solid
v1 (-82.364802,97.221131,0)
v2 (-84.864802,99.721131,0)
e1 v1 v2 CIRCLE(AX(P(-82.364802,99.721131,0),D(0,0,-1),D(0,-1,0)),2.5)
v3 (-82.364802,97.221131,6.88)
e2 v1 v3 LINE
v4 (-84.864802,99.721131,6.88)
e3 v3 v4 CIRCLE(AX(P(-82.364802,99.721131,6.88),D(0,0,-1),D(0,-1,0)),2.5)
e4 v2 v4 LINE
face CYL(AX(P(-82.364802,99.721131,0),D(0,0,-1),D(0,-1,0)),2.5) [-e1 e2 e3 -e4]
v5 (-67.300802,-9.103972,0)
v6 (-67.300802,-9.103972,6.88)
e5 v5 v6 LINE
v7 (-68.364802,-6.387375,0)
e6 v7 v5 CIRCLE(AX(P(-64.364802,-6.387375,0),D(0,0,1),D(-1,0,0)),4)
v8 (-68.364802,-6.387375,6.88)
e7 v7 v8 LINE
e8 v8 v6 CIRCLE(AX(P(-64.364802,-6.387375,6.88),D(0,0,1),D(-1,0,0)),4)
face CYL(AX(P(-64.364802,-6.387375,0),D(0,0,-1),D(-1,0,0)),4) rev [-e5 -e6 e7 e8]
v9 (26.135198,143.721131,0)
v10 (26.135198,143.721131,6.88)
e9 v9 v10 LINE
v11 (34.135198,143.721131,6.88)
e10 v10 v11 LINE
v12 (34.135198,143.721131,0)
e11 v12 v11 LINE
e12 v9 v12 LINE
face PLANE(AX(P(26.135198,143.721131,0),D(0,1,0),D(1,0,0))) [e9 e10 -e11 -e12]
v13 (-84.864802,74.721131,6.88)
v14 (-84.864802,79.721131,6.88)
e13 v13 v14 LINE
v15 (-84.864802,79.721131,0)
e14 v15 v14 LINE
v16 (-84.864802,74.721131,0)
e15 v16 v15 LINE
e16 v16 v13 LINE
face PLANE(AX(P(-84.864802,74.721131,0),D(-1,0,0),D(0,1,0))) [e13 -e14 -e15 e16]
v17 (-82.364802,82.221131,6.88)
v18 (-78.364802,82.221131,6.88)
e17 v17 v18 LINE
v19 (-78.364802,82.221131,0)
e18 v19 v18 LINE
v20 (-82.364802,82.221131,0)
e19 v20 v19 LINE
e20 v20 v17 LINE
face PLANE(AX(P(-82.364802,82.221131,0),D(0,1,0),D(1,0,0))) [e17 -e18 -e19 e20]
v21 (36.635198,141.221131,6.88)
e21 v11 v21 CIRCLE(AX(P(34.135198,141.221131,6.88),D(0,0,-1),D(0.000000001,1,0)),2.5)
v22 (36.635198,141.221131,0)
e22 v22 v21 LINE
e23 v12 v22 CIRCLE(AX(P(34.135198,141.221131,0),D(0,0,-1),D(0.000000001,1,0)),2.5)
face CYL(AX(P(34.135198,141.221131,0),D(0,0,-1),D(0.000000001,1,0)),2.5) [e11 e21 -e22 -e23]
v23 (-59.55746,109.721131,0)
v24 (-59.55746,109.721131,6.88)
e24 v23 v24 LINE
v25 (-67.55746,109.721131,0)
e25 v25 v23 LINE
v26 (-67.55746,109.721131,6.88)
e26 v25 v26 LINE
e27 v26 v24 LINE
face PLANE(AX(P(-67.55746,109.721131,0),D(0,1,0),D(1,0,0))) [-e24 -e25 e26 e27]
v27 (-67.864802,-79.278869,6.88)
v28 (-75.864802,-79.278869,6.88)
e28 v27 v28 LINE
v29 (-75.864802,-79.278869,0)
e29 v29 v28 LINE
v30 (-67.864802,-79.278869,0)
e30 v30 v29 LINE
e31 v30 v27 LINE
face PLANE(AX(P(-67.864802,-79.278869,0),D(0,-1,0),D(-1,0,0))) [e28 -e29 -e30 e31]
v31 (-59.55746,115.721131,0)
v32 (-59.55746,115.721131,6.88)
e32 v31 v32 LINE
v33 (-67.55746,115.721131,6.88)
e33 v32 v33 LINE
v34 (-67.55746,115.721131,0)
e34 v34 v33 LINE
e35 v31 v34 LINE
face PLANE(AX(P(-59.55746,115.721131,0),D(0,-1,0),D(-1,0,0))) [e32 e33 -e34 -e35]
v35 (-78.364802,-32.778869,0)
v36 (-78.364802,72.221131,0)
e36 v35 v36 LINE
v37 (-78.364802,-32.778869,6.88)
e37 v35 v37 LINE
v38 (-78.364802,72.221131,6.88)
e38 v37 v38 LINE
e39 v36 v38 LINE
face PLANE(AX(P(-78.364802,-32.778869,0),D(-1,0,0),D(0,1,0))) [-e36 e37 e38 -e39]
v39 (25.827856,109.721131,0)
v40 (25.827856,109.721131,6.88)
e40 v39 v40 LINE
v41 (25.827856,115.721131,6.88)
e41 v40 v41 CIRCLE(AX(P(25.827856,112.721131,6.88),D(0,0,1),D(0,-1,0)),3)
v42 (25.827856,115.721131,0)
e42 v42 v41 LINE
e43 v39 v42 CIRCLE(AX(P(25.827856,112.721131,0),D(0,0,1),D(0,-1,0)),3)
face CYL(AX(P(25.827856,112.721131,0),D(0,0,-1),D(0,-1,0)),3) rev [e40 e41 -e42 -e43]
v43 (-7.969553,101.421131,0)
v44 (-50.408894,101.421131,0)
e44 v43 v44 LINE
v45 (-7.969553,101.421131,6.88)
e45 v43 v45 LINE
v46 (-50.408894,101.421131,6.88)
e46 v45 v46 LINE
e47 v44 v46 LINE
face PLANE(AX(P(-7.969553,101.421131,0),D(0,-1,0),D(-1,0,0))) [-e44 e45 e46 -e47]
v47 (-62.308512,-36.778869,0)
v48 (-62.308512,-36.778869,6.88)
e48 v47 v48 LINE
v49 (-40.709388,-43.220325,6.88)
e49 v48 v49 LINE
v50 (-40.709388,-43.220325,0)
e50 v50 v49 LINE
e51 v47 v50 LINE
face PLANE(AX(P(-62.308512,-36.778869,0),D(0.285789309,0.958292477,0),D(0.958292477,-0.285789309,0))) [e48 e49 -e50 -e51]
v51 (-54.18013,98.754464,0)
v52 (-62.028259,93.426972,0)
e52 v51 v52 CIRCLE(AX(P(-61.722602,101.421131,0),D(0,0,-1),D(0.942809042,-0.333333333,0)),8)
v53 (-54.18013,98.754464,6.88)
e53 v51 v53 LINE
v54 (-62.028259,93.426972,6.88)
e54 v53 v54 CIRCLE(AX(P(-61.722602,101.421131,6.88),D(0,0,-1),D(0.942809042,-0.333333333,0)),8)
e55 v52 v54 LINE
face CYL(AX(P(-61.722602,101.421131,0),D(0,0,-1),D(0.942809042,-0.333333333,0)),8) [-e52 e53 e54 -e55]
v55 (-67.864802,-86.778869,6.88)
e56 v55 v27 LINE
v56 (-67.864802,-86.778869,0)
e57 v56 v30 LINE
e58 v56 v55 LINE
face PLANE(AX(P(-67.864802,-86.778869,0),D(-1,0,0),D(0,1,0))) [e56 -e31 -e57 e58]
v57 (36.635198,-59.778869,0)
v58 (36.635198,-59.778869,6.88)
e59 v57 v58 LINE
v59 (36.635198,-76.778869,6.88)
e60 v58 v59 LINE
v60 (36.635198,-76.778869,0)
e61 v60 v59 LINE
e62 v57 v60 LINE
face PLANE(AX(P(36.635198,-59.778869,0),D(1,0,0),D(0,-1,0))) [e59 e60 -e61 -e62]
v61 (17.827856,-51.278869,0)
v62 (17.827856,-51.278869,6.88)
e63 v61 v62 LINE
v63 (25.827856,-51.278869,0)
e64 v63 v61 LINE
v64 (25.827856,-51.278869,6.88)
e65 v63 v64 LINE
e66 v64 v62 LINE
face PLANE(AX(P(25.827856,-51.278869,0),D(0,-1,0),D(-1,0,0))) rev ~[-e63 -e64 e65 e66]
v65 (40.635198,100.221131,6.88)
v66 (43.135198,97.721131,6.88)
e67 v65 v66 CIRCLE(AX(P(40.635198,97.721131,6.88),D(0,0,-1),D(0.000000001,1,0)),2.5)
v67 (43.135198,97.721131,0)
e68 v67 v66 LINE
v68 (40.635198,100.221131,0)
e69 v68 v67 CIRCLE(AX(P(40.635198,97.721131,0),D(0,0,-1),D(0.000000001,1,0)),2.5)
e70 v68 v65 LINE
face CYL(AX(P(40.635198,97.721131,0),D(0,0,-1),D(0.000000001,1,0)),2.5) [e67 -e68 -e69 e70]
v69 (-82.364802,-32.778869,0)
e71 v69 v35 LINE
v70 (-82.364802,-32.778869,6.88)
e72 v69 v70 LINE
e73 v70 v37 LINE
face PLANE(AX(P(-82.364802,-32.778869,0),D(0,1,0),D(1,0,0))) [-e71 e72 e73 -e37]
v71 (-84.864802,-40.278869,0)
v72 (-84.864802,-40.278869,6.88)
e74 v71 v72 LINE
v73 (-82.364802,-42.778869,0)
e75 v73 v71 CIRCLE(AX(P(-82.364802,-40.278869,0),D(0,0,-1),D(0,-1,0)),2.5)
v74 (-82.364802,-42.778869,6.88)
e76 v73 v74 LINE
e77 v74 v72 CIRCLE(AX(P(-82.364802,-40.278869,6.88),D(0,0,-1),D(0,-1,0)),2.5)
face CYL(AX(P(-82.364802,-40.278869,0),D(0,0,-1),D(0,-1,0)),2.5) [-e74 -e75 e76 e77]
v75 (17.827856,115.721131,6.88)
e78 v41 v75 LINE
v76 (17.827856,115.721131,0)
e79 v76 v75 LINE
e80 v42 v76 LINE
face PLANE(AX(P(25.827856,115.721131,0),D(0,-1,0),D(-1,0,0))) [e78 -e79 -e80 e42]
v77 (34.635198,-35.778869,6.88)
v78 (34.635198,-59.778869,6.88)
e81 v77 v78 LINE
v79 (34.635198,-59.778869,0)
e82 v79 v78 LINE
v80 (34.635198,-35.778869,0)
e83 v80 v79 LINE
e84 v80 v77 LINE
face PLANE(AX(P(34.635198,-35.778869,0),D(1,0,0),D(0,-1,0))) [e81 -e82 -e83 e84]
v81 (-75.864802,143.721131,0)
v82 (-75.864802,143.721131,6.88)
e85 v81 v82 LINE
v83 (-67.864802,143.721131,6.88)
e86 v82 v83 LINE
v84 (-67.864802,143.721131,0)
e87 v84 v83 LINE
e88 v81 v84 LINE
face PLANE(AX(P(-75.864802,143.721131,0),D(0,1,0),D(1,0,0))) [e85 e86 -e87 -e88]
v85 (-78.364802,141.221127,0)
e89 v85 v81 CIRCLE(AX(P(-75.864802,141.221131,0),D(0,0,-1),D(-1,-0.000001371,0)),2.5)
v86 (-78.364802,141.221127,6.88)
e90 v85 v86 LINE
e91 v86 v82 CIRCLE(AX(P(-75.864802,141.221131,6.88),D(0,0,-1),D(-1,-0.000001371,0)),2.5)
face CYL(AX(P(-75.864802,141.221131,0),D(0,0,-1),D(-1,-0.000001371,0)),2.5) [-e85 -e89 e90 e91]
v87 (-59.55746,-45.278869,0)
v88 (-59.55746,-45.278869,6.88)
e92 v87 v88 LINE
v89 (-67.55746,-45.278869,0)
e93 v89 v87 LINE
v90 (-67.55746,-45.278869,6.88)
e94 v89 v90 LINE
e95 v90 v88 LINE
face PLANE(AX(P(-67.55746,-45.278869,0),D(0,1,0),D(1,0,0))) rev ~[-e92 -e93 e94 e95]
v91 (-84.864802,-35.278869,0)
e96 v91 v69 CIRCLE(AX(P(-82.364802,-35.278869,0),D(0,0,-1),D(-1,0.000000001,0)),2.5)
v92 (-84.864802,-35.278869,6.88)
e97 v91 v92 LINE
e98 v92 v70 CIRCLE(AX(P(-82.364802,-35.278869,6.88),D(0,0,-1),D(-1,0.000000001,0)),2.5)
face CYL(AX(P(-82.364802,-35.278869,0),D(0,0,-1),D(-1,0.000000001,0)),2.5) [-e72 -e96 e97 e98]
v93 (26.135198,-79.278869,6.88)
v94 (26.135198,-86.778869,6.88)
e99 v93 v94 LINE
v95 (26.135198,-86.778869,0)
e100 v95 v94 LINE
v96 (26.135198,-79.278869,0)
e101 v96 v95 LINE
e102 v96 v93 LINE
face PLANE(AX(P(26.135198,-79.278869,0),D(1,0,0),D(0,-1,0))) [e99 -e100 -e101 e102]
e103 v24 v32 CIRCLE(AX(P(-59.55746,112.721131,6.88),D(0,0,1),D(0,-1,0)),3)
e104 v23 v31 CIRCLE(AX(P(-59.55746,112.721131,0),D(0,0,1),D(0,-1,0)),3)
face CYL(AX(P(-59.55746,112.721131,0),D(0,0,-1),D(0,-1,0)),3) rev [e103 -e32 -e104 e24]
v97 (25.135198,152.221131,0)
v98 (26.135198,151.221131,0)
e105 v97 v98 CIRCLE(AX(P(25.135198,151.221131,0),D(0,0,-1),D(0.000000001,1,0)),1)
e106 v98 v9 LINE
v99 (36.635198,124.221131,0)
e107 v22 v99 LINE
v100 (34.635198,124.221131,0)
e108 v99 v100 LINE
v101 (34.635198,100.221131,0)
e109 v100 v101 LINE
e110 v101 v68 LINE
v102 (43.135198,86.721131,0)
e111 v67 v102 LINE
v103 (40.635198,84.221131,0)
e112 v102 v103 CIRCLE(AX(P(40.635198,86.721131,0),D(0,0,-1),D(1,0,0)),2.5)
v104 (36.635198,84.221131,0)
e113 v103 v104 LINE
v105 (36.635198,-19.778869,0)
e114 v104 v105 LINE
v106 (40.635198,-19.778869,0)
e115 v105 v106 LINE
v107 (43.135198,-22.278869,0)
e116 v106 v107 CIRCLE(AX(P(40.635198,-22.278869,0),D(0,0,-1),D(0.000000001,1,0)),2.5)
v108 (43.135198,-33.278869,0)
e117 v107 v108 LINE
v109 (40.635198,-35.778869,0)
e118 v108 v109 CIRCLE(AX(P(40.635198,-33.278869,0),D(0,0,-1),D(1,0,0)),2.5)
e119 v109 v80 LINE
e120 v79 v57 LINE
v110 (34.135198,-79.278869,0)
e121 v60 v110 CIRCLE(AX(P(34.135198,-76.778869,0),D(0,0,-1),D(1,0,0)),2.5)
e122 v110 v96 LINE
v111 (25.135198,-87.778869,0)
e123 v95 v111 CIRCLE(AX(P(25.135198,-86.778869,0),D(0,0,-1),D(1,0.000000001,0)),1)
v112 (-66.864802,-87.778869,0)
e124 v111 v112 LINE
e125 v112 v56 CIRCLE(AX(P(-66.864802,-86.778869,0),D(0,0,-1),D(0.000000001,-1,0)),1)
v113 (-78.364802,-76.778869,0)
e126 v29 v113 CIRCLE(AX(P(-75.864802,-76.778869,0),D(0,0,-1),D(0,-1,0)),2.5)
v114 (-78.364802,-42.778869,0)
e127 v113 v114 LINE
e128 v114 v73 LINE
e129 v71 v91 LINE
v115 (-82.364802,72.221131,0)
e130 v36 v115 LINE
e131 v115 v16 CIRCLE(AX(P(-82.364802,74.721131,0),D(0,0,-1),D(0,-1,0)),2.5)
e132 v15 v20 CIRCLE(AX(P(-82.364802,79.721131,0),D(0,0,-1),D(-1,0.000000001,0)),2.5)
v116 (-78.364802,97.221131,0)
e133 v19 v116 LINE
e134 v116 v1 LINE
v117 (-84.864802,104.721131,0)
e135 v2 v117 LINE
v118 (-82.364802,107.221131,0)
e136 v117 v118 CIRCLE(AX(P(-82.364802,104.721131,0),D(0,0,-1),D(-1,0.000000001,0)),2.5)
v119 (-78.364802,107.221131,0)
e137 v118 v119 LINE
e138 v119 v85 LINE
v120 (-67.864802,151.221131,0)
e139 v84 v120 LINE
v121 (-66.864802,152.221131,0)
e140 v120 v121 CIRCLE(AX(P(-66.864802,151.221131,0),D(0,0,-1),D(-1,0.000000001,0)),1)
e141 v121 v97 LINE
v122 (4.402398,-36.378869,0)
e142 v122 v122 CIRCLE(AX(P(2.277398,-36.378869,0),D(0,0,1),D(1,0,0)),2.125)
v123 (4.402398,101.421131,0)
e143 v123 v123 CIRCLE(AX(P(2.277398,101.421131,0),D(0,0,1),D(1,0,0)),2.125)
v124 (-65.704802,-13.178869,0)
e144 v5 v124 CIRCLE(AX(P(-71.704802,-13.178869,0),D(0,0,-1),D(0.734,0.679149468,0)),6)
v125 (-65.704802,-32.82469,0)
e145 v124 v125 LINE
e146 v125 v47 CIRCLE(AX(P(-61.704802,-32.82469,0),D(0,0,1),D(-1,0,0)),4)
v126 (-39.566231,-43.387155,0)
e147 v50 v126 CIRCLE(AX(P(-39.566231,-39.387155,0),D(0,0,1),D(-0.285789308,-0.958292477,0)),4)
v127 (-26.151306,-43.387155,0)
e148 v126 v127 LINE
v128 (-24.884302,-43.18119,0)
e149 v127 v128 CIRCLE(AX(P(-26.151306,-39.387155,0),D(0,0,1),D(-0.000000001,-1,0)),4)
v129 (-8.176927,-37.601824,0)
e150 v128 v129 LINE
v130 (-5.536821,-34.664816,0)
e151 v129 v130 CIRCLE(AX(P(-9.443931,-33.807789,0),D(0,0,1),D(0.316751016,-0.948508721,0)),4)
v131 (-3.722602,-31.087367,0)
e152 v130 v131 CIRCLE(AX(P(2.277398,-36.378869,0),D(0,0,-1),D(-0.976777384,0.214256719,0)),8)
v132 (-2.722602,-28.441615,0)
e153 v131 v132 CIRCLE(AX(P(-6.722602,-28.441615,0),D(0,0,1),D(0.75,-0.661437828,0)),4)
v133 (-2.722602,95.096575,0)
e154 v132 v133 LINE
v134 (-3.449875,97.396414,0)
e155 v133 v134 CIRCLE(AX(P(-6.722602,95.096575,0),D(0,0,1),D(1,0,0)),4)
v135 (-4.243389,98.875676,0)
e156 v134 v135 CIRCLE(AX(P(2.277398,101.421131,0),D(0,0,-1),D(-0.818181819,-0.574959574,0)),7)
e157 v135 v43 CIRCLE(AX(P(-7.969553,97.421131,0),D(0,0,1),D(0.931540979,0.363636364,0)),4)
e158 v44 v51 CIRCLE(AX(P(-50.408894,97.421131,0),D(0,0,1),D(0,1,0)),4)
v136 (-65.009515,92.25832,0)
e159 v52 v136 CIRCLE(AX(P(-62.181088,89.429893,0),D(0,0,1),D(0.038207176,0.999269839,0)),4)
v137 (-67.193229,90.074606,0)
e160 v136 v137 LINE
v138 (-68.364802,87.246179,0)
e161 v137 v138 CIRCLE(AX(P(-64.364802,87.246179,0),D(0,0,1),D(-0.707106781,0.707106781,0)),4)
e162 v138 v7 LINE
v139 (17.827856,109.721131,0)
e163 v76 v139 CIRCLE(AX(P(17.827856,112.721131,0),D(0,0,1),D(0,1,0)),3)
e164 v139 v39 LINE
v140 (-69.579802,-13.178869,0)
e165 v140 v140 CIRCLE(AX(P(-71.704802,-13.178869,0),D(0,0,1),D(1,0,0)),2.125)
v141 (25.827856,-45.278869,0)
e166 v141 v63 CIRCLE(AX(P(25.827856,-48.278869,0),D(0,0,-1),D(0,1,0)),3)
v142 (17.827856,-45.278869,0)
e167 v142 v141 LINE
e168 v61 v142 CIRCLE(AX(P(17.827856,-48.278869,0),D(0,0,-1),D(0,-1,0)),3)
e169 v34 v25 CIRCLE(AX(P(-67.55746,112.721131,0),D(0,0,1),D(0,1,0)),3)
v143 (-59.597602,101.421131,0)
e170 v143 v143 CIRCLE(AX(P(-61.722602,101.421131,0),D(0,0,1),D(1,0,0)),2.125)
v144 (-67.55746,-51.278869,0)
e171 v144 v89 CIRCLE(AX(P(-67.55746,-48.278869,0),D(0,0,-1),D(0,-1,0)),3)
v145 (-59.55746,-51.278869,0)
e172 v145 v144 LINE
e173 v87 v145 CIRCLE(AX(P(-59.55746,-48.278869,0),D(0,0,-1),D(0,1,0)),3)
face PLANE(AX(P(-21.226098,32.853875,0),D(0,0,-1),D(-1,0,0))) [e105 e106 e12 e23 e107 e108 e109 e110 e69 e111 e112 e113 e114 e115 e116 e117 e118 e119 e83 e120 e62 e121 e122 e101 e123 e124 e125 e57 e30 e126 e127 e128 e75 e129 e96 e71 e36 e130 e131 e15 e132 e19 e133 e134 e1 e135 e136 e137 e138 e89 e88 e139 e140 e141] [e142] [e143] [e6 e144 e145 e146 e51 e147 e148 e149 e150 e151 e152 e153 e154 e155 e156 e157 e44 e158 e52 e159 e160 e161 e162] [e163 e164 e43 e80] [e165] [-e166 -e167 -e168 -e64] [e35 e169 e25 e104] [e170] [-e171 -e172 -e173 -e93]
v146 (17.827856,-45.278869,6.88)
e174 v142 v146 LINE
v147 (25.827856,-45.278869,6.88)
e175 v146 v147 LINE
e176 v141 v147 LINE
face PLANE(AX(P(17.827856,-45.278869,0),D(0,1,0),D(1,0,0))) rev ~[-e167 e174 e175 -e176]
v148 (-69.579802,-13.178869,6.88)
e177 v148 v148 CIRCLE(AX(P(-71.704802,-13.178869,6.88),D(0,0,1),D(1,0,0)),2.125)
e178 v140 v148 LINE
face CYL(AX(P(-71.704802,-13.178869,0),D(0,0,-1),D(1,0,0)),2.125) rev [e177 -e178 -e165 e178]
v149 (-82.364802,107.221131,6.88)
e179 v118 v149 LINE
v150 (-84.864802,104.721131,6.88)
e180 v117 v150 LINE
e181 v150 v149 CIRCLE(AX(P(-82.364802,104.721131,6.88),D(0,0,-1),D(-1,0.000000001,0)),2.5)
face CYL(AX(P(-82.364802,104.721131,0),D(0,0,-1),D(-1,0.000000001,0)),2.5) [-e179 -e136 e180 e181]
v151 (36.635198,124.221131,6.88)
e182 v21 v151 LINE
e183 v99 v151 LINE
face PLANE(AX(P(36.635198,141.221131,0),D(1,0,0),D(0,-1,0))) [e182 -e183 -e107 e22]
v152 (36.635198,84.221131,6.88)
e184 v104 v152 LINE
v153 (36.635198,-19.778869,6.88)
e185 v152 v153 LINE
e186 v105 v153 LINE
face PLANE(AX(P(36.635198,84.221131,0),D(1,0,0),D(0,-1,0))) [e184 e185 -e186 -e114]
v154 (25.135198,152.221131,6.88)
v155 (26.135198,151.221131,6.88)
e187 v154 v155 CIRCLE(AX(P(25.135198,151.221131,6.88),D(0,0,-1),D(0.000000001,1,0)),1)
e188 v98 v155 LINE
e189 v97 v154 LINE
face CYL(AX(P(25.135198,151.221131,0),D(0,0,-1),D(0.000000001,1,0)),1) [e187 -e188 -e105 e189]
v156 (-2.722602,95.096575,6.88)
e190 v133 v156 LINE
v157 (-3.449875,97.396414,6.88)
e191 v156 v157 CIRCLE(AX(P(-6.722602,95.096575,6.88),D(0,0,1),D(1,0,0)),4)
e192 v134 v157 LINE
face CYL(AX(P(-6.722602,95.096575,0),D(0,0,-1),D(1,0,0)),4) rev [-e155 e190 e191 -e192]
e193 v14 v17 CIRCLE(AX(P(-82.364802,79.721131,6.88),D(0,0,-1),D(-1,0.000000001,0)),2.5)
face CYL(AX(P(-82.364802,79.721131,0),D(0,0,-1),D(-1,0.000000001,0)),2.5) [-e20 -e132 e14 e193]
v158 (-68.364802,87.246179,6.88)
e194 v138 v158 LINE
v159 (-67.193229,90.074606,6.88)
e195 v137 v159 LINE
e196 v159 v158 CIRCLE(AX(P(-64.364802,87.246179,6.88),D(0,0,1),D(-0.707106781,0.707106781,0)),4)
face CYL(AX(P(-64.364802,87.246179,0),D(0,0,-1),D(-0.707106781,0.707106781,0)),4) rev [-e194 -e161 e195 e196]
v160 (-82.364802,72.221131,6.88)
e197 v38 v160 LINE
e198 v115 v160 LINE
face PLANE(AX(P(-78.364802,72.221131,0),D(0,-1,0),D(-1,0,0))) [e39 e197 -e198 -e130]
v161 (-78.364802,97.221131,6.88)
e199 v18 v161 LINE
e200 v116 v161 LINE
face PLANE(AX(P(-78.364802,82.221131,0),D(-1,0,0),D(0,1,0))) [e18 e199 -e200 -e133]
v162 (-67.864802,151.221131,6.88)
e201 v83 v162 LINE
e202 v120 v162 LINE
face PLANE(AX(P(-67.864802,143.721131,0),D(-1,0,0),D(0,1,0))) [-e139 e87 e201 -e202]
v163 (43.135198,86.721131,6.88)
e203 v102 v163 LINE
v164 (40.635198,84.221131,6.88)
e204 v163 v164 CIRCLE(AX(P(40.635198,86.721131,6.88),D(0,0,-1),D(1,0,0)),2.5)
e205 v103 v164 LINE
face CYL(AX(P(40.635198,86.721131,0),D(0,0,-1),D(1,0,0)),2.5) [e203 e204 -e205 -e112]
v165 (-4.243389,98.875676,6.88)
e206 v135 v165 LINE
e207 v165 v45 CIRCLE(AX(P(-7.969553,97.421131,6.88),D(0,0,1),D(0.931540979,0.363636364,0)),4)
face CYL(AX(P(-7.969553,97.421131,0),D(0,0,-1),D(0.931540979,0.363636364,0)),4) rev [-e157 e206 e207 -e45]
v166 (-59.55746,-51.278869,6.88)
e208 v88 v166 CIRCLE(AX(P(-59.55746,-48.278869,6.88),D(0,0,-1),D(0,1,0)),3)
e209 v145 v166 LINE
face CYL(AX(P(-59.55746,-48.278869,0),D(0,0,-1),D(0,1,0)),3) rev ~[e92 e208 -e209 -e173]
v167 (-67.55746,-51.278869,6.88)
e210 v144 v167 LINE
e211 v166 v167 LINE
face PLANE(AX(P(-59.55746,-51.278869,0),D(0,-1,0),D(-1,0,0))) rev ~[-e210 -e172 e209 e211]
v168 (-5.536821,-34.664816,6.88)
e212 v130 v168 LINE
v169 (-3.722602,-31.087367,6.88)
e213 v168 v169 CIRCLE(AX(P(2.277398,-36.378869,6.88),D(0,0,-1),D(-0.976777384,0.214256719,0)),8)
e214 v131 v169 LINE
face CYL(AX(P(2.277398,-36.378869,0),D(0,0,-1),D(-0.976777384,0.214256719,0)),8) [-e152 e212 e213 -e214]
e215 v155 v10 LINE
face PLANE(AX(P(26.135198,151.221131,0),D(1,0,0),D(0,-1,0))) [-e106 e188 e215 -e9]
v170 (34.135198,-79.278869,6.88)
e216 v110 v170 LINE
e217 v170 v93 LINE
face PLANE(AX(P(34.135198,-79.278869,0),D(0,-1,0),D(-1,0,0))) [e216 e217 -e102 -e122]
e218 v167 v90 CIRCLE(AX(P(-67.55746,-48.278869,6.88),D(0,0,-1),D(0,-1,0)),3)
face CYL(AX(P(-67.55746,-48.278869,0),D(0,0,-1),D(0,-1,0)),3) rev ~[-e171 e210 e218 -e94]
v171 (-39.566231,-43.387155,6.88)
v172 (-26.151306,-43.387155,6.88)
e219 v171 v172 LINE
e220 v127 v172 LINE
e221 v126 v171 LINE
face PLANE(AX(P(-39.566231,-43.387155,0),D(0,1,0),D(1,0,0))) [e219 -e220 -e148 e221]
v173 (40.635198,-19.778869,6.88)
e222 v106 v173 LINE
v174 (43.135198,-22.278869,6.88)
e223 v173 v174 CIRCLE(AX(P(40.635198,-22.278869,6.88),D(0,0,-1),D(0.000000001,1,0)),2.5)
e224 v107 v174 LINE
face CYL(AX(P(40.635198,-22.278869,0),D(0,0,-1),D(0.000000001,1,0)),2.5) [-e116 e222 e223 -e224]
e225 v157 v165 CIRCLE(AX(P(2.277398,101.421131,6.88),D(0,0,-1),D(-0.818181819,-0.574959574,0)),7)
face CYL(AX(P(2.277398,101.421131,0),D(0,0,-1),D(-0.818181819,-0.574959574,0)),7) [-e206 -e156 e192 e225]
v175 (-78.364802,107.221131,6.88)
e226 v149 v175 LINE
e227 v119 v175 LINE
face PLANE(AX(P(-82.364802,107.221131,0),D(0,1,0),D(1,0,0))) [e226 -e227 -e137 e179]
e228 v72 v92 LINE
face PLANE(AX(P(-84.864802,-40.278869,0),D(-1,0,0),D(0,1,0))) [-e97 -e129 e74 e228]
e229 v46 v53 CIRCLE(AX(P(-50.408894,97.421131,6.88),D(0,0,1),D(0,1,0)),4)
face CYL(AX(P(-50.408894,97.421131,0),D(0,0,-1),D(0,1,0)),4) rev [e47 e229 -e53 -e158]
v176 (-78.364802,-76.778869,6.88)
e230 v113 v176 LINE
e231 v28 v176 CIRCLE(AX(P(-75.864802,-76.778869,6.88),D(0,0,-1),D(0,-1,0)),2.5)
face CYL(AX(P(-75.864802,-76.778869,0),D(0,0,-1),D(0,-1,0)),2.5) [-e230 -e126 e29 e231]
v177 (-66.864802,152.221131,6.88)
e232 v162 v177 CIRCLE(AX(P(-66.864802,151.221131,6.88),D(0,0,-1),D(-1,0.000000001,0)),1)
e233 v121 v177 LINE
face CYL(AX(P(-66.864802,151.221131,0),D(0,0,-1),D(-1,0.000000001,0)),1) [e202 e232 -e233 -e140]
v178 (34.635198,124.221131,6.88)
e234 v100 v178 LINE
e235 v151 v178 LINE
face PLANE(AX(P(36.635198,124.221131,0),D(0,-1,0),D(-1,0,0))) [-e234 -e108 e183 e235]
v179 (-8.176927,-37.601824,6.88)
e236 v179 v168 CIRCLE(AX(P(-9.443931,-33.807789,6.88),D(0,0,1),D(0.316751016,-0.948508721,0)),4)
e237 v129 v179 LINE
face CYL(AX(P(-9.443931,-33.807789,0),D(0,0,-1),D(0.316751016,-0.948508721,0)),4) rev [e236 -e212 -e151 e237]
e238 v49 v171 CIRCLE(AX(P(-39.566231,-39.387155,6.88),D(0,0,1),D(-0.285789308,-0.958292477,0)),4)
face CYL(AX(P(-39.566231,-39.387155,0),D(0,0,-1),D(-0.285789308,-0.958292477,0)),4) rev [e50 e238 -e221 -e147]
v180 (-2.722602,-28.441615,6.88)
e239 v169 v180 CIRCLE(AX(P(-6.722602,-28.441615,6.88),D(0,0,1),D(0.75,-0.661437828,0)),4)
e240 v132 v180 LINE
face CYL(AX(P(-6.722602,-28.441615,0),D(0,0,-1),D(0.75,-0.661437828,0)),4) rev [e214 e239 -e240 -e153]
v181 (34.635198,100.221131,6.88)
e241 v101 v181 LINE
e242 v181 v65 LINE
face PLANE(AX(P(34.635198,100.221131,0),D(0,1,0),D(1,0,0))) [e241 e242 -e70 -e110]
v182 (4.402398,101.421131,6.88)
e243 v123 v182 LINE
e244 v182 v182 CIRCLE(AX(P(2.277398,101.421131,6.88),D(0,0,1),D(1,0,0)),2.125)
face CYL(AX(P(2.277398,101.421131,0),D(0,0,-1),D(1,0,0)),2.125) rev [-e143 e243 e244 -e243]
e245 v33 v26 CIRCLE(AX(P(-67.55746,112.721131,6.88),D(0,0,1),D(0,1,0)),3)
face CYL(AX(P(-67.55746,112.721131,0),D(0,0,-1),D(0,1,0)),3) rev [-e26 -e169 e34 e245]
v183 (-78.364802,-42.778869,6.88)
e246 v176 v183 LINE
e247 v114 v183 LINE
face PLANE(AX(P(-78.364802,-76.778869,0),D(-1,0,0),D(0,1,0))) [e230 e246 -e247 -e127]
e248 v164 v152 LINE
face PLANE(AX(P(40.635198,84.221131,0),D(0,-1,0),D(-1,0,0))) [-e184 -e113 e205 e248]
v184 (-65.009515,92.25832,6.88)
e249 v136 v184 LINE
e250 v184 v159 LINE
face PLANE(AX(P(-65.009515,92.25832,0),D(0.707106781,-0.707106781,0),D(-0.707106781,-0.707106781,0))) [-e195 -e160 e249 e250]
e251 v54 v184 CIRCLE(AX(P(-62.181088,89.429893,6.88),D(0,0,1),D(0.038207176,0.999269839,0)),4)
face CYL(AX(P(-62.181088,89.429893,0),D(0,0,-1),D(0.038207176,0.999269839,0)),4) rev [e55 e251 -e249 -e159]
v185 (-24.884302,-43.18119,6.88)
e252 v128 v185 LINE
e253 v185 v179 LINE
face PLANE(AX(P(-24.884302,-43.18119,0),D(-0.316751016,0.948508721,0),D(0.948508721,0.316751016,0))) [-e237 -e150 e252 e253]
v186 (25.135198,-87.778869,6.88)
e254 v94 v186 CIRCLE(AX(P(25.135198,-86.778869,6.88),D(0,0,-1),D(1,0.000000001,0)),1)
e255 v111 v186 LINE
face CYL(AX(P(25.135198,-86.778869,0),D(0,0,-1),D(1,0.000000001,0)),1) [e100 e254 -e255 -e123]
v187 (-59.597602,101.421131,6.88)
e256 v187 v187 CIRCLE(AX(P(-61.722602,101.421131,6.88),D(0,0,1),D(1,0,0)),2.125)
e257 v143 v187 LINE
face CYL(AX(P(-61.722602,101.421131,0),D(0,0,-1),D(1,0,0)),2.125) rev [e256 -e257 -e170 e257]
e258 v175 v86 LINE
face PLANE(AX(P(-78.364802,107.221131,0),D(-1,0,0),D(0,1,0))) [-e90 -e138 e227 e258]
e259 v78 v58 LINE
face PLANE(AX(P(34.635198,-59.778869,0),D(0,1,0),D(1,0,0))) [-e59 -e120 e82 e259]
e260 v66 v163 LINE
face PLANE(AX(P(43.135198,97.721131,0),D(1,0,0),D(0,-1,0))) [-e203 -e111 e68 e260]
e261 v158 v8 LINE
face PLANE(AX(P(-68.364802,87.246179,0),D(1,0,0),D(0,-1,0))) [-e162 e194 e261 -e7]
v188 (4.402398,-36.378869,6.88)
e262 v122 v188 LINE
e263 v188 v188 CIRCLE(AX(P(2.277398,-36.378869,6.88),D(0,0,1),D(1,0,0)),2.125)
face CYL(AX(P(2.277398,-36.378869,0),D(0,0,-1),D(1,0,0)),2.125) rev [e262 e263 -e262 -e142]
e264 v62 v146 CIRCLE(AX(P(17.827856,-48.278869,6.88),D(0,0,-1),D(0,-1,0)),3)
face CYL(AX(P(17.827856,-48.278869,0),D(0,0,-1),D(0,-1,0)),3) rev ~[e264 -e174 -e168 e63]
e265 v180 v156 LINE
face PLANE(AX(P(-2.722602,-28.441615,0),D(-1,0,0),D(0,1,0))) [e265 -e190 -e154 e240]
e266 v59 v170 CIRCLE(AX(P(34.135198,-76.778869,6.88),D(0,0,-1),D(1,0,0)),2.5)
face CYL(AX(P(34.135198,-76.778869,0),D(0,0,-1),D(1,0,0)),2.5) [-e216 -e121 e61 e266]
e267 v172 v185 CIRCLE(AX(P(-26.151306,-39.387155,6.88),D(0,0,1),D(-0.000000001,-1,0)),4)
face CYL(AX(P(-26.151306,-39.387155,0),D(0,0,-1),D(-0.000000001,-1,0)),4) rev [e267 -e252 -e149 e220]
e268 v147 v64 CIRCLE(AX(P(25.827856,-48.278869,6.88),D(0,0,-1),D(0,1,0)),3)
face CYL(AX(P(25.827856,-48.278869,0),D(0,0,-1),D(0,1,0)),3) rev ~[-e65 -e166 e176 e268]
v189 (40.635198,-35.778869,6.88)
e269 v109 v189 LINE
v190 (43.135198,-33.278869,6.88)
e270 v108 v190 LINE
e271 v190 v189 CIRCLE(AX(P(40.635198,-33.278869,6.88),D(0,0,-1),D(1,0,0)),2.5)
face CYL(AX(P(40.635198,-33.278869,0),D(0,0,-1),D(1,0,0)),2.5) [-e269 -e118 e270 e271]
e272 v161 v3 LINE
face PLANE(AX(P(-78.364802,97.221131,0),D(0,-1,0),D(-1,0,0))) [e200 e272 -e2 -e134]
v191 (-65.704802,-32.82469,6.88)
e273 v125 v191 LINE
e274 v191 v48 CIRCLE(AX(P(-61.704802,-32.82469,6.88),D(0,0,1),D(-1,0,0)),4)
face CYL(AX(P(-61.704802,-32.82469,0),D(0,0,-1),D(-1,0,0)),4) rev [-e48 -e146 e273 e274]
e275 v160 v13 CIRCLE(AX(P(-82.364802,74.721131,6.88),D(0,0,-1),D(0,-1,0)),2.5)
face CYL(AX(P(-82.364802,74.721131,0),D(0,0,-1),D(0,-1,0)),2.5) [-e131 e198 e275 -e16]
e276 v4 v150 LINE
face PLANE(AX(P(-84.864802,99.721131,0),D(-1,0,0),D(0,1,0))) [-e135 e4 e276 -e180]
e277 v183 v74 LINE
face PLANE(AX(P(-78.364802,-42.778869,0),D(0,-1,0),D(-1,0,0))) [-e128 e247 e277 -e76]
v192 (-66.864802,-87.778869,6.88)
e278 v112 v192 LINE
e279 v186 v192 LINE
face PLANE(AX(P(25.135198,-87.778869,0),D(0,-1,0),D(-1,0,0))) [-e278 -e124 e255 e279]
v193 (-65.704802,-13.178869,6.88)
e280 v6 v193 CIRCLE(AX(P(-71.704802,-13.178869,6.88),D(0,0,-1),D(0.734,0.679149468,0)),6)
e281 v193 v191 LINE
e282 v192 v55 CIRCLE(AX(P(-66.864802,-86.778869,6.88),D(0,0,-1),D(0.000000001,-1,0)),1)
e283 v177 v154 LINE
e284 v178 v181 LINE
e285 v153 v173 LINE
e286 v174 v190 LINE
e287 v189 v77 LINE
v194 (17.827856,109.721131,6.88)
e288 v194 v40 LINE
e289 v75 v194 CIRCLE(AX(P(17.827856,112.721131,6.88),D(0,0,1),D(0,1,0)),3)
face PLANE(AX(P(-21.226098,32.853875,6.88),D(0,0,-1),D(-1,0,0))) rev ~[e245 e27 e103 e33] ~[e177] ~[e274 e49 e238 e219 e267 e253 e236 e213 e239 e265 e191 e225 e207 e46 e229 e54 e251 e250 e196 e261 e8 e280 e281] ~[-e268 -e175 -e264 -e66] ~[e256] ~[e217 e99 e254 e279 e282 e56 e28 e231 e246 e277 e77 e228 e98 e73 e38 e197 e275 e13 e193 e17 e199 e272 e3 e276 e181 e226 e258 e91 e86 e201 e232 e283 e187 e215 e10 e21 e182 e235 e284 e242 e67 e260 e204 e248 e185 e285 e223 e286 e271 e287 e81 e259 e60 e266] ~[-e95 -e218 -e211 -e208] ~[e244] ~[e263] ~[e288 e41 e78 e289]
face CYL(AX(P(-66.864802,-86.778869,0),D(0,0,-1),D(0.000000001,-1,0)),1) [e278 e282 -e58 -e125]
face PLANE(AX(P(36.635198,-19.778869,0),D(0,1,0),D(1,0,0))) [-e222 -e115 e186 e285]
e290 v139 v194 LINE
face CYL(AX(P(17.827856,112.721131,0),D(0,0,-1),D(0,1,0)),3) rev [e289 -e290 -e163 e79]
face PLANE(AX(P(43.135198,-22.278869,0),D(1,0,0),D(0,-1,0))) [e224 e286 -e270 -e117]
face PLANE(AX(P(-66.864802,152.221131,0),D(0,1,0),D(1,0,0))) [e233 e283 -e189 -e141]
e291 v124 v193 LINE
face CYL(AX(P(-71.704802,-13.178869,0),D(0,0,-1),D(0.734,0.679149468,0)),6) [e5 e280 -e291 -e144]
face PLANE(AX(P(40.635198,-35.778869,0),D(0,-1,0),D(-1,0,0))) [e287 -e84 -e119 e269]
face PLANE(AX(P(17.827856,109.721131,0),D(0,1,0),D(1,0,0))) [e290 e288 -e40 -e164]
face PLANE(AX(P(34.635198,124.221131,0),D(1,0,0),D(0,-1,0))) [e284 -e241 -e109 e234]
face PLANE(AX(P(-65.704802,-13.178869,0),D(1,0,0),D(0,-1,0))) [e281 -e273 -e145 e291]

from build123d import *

# Parameters (mm, degrees)
SKETCH1_R           = 2.125
BOSS_EXTRUDE1_DEPTH = 6.88


with BuildPart() as part:
    # Sketch1 → Boss-Extrude1 (new body)
    with BuildSketch(Plane.XY):
        with BuildLine():
            Line((-78.364802088, -42.778869258), (-82.364802088, -42.778869258))
            ThreePointArc((-82.364802088, -42.778869258), (-84.132569041, -42.046636211), (-84.864802088, -40.278869258))
            Line((-84.864802088, -40.278869258), (-84.864802088, -35.278869258))
            ThreePointArc((-84.864802088, -35.278869258), (-84.132569041, -33.511102306), (-82.364802088, -32.778869258))
            Line((-82.364802088, -32.778869258), (-78.364802088, -32.778869258))
            Line((-78.364802088, -32.778869258), (-78.364802088, 72.221130742))
            Line((-78.364802088, 72.221130742), (-82.364802088, 72.221130742))
            ThreePointArc((-82.364802088, 72.221130742), (-84.132569041, 72.953363789), (-84.864802088, 74.721130742))
            Line((-84.864802088, 74.721130742), (-84.864802088, 79.721130742))
            ThreePointArc((-84.864802088, 79.721130742), (-84.132569041, 81.488897694), (-82.364802088, 82.221130742))
            Line((-82.364802088, 82.221130742), (-78.364802088, 82.221130742))
            Line((-78.364802088, 82.221130742), (-78.364802088, 97.221130742))
            Line((-78.364802088, 97.221130742), (-82.364802088, 97.221130742))
            ThreePointArc((-82.364802088, 97.221130742), (-84.132569041, 97.953363789), (-84.864802088, 99.721130742))
            Line((-84.864802088, 99.721130742), (-84.864802088, 104.721130742))
            ThreePointArc((-84.864802088, 104.721130742), (-84.132569041, 106.488897694), (-82.364802088, 107.221130742))
            Line((-82.364802088, 107.221130742), (-78.364802088, 107.221130742))
            Line((-78.364802088, 107.221130742), (-78.364802088, 141.221127314))
            ThreePointArc((-78.364802088, 141.221127314), (-77.632570253, 142.988896483), (-75.864802088, 143.721130742))
            Line((-75.864802088, 143.721130742), (-67.864802088, 143.721130742))
            Line((-67.864802088, 143.721130742), (-67.864802088, 151.221130742))
            ThreePointArc((-67.864802088, 151.221130742), (-67.571908869, 151.928237523), (-66.864802088, 152.221130742))
            Line((-66.864802088, 152.221130742), (25.135197912, 152.221130742))
            ThreePointArc((25.135197912, 152.221130742), (25.842304693, 151.928237523), (26.135197912, 151.221130742))
            Line((26.135197912, 151.221130742), (26.135197912, 143.721130742))
            Line((26.135197912, 143.721130742), (34.135197912, 143.721130742))
            ThreePointArc((34.135197912, 143.721130742), (35.902964865, 142.988897694), (36.635197912, 141.221130742))
            Line((36.635197912, 141.221130742), (36.635197912, 124.221130742))
            Line((36.635197912, 124.221130742), (34.635197912, 124.221130742))
            Line((34.635197912, 124.221130742), (34.635197912, 100.221130742))
            Line((34.635197912, 100.221130742), (40.635197912, 100.221130742))
            ThreePointArc((40.635197912, 100.221130742), (42.402964865, 99.488897694), (43.135197912, 97.721130742))
            Line((43.135197912, 97.721130742), (43.135197912, 86.721130742))
            ThreePointArc((43.135197912, 86.721130742), (42.402964865, 84.953363789), (40.635197912, 84.221130742))
            Line((40.635197912, 84.221130742), (36.635197912, 84.221130742))
            Line((36.635197912, 84.221130742), (36.635197912, -19.778869258))
            Line((36.635197912, -19.778869258), (40.635197912, -19.778869258))
            ThreePointArc((40.635197912, -19.778869258), (42.402964865, -20.511102306), (43.135197912, -22.278869258))
            Line((43.135197912, -22.278869258), (43.135197912, -33.278869258))
            ThreePointArc((43.135197912, -33.278869258), (42.402964865, -35.046636211), (40.635197912, -35.778869258))
            Line((40.635197912, -35.778869258), (34.635197912, -35.778869258))
            Line((34.635197912, -35.778869258), (34.635197912, -59.778869258))
            Line((34.635197912, -59.778869258), (36.635197912, -59.778869258))
            Line((36.635197912, -59.778869258), (36.635197912, -76.778869258))
            ThreePointArc((36.635197912, -76.778869258), (35.902964865, -78.546636211), (34.135197912, -79.278869258))
            Line((34.135197912, -79.278869258), (26.135197912, -79.278869258))
            Line((26.135197912, -79.278869258), (26.135197912, -86.778869258))
            ThreePointArc((26.135197912, -86.778869258), (25.842304693, -87.48597604), (25.135197912, -87.778869258))
            Line((25.135197912, -87.778869258), (-66.864802088, -87.778869258))
            ThreePointArc((-66.864802088, -87.778869258), (-67.571908869, -87.48597604), (-67.864802088, -86.778869258))
            Line((-67.864802088, -86.778869258), (-67.864802088, -79.278869258))
            Line((-67.864802088, -79.278869258), (-75.864802088, -79.278869258))
            ThreePointArc((-75.864802088, -79.278869258), (-77.632569041, -78.546636211), (-78.364802088, -76.778869258))
            Line((-78.364802088, -76.778869258), (-78.364802088, -42.778869258))
        make_face()
        with Locations((-71.704802088, -13.178869258)):
            Circle(SKETCH1_R, mode=Mode.SUBTRACT)
        with Locations((2.277397912, 101.421130742)):
            Circle(SKETCH1_R, mode=Mode.SUBTRACT)
        with Locations((-61.722602088, 101.421130741)):
            Circle(SKETCH1_R, mode=Mode.SUBTRACT)
        with Locations((2.277397912, -36.378869258)):
            Circle(SKETCH1_R, mode=Mode.SUBTRACT)
        with BuildLine():
            Line((17.827855969, -45.278869258), (25.827855969, -45.278869258))
            ThreePointArc((25.827855969, -45.278869258), (28.827855969, -48.278869258), (25.827855969, -51.278869258))
            Line((25.827855969, -51.278869258), (17.827855969, -51.278869258))
            ThreePointArc((17.827855969, -51.278869258), (14.827855969, -48.278869258), (17.827855969, -45.278869258))
        make_face(mode=Mode.SUBTRACT)
        with BuildLine():
            Line((-65.704802088, -13.178869258), (-65.704802088, -32.824689972))
            ThreePointArc((-65.704802088, -32.824689972), (-64.73917528, -35.430947697), (-62.308512422, -36.778869258))
            Line((-62.308512422, -36.778869258), (-40.709388186, -43.22032523))
            ThreePointArc((-40.709388186, -43.22032523), (-40.143864213, -43.345228063), (-39.566230949, -43.387155324))
            Line((-39.566230949, -43.387155324), (-26.151305592, -43.387155324))
            ThreePointArc((-26.151305592, -43.387155324), (-25.50948768, -43.33532829), (-24.884301528, -43.181190208))
            Line((-24.884301528, -43.181190208), (-8.176926635, -37.601823511))
            ThreePointArc((-8.176926635, -37.601823511), (-6.469142152, -36.4818554), (-5.536821161, -34.664815504))
            ThreePointArc((-5.536821161, -34.664815504), (-4.857565105, -32.760540535), (-3.722602088, -31.087366636))
            ThreePointArc((-3.722602088, -31.087366636), (-2.980944701, -29.855828888), (-2.722602088, -28.441615325))
            Line((-2.722602088, -28.441615325), (-2.722602088, 95.096575421))
            ThreePointArc((-2.722602088, 95.096575421), (-2.908751731, 96.3026208), (-3.449874815, 97.396413719))
            ThreePointArc((-3.449874815, 97.396413719), (-3.891134752, 98.112172481), (-4.243388939, 98.875676196))
            ThreePointArc((-4.243388939, 98.875676196), (-5.713248555, 100.724022037), (-7.969552854, 101.421130741))
            Line((-7.969552854, 101.421130741), (-50.408893589, 101.421130741))
            ThreePointArc((-50.408893589, 101.421130741), (-52.718294666, 100.687117065), (-54.180129755, 98.754464075))
            ThreePointArc((-54.180129755, 98.754464075), (-57.229450027, 94.802098746), (-62.028259496, 93.426972027))
            ThreePointArc((-62.028259496, 93.426972027), (-63.640931937, 93.153984004), (-65.009515325, 92.258319795))
            Line((-65.009515325, 92.258319795), (-67.193229213, 90.074605907))
            ThreePointArc((-67.193229213, 90.074605907), (-68.060320218, 88.776912512), (-68.364802088, 87.246178782))
            Line((-68.364802088, 87.246178782), (-68.364802088, -6.387374578))
            ThreePointArc((-68.364802088, -6.387374578), (-68.089315479, -7.84614118), (-67.300802088, -9.10397245))
            ThreePointArc((-67.300802088, -9.10397245), (-66.118032001, -10.990719355), (-65.704802088, -13.178869258))
        make_face(mode=Mode.SUBTRACT)
        with BuildLine():
            Line((-67.557460145, 109.721130742), (-59.557460145, 109.721130742))
            ThreePointArc((-59.557460145, 109.721130742), (-56.557460145, 112.721130742), (-59.557460145, 115.721130742))
            Line((-59.557460145, 115.721130742), (-67.557460145, 115.721130742))
            ThreePointArc((-67.557460145, 115.721130742), (-70.557460145, 112.721130742), (-67.557460145, 109.721130742))
        make_face(mode=Mode.SUBTRACT)
        with BuildLine():
            Line((17.827855969, 109.721130742), (25.827855969, 109.721130742))
            ThreePointArc((25.827855969, 109.721130742), (28.827855969, 112.721130742), (25.827855969, 115.721130742))
            Line((25.827855969, 115.721130742), (17.827855969, 115.721130742))
            ThreePointArc((17.827855969, 115.721130742), (14.827855969, 112.721130742), (17.827855969, 109.721130742))
        make_face(mode=Mode.SUBTRACT)
        with BuildLine():
            Line((-67.557460145, -45.278869258), (-59.557460145, -45.278869258))
            ThreePointArc((-59.557460145, -45.278869258), (-56.557460145, -48.278869258), (-59.557460145, -51.278869258))
            Line((-59.557460145, -51.278869258), (-67.557460145, -51.278869258))
            ThreePointArc((-67.557460145, -51.278869258), (-70.557460145, -48.278869258), (-67.557460145, -45.278869258))
        make_face(mode=Mode.SUBTRACT)
    extrude(amount=BOSS_EXTRUDE1_DEPTH)


solid = part.part
